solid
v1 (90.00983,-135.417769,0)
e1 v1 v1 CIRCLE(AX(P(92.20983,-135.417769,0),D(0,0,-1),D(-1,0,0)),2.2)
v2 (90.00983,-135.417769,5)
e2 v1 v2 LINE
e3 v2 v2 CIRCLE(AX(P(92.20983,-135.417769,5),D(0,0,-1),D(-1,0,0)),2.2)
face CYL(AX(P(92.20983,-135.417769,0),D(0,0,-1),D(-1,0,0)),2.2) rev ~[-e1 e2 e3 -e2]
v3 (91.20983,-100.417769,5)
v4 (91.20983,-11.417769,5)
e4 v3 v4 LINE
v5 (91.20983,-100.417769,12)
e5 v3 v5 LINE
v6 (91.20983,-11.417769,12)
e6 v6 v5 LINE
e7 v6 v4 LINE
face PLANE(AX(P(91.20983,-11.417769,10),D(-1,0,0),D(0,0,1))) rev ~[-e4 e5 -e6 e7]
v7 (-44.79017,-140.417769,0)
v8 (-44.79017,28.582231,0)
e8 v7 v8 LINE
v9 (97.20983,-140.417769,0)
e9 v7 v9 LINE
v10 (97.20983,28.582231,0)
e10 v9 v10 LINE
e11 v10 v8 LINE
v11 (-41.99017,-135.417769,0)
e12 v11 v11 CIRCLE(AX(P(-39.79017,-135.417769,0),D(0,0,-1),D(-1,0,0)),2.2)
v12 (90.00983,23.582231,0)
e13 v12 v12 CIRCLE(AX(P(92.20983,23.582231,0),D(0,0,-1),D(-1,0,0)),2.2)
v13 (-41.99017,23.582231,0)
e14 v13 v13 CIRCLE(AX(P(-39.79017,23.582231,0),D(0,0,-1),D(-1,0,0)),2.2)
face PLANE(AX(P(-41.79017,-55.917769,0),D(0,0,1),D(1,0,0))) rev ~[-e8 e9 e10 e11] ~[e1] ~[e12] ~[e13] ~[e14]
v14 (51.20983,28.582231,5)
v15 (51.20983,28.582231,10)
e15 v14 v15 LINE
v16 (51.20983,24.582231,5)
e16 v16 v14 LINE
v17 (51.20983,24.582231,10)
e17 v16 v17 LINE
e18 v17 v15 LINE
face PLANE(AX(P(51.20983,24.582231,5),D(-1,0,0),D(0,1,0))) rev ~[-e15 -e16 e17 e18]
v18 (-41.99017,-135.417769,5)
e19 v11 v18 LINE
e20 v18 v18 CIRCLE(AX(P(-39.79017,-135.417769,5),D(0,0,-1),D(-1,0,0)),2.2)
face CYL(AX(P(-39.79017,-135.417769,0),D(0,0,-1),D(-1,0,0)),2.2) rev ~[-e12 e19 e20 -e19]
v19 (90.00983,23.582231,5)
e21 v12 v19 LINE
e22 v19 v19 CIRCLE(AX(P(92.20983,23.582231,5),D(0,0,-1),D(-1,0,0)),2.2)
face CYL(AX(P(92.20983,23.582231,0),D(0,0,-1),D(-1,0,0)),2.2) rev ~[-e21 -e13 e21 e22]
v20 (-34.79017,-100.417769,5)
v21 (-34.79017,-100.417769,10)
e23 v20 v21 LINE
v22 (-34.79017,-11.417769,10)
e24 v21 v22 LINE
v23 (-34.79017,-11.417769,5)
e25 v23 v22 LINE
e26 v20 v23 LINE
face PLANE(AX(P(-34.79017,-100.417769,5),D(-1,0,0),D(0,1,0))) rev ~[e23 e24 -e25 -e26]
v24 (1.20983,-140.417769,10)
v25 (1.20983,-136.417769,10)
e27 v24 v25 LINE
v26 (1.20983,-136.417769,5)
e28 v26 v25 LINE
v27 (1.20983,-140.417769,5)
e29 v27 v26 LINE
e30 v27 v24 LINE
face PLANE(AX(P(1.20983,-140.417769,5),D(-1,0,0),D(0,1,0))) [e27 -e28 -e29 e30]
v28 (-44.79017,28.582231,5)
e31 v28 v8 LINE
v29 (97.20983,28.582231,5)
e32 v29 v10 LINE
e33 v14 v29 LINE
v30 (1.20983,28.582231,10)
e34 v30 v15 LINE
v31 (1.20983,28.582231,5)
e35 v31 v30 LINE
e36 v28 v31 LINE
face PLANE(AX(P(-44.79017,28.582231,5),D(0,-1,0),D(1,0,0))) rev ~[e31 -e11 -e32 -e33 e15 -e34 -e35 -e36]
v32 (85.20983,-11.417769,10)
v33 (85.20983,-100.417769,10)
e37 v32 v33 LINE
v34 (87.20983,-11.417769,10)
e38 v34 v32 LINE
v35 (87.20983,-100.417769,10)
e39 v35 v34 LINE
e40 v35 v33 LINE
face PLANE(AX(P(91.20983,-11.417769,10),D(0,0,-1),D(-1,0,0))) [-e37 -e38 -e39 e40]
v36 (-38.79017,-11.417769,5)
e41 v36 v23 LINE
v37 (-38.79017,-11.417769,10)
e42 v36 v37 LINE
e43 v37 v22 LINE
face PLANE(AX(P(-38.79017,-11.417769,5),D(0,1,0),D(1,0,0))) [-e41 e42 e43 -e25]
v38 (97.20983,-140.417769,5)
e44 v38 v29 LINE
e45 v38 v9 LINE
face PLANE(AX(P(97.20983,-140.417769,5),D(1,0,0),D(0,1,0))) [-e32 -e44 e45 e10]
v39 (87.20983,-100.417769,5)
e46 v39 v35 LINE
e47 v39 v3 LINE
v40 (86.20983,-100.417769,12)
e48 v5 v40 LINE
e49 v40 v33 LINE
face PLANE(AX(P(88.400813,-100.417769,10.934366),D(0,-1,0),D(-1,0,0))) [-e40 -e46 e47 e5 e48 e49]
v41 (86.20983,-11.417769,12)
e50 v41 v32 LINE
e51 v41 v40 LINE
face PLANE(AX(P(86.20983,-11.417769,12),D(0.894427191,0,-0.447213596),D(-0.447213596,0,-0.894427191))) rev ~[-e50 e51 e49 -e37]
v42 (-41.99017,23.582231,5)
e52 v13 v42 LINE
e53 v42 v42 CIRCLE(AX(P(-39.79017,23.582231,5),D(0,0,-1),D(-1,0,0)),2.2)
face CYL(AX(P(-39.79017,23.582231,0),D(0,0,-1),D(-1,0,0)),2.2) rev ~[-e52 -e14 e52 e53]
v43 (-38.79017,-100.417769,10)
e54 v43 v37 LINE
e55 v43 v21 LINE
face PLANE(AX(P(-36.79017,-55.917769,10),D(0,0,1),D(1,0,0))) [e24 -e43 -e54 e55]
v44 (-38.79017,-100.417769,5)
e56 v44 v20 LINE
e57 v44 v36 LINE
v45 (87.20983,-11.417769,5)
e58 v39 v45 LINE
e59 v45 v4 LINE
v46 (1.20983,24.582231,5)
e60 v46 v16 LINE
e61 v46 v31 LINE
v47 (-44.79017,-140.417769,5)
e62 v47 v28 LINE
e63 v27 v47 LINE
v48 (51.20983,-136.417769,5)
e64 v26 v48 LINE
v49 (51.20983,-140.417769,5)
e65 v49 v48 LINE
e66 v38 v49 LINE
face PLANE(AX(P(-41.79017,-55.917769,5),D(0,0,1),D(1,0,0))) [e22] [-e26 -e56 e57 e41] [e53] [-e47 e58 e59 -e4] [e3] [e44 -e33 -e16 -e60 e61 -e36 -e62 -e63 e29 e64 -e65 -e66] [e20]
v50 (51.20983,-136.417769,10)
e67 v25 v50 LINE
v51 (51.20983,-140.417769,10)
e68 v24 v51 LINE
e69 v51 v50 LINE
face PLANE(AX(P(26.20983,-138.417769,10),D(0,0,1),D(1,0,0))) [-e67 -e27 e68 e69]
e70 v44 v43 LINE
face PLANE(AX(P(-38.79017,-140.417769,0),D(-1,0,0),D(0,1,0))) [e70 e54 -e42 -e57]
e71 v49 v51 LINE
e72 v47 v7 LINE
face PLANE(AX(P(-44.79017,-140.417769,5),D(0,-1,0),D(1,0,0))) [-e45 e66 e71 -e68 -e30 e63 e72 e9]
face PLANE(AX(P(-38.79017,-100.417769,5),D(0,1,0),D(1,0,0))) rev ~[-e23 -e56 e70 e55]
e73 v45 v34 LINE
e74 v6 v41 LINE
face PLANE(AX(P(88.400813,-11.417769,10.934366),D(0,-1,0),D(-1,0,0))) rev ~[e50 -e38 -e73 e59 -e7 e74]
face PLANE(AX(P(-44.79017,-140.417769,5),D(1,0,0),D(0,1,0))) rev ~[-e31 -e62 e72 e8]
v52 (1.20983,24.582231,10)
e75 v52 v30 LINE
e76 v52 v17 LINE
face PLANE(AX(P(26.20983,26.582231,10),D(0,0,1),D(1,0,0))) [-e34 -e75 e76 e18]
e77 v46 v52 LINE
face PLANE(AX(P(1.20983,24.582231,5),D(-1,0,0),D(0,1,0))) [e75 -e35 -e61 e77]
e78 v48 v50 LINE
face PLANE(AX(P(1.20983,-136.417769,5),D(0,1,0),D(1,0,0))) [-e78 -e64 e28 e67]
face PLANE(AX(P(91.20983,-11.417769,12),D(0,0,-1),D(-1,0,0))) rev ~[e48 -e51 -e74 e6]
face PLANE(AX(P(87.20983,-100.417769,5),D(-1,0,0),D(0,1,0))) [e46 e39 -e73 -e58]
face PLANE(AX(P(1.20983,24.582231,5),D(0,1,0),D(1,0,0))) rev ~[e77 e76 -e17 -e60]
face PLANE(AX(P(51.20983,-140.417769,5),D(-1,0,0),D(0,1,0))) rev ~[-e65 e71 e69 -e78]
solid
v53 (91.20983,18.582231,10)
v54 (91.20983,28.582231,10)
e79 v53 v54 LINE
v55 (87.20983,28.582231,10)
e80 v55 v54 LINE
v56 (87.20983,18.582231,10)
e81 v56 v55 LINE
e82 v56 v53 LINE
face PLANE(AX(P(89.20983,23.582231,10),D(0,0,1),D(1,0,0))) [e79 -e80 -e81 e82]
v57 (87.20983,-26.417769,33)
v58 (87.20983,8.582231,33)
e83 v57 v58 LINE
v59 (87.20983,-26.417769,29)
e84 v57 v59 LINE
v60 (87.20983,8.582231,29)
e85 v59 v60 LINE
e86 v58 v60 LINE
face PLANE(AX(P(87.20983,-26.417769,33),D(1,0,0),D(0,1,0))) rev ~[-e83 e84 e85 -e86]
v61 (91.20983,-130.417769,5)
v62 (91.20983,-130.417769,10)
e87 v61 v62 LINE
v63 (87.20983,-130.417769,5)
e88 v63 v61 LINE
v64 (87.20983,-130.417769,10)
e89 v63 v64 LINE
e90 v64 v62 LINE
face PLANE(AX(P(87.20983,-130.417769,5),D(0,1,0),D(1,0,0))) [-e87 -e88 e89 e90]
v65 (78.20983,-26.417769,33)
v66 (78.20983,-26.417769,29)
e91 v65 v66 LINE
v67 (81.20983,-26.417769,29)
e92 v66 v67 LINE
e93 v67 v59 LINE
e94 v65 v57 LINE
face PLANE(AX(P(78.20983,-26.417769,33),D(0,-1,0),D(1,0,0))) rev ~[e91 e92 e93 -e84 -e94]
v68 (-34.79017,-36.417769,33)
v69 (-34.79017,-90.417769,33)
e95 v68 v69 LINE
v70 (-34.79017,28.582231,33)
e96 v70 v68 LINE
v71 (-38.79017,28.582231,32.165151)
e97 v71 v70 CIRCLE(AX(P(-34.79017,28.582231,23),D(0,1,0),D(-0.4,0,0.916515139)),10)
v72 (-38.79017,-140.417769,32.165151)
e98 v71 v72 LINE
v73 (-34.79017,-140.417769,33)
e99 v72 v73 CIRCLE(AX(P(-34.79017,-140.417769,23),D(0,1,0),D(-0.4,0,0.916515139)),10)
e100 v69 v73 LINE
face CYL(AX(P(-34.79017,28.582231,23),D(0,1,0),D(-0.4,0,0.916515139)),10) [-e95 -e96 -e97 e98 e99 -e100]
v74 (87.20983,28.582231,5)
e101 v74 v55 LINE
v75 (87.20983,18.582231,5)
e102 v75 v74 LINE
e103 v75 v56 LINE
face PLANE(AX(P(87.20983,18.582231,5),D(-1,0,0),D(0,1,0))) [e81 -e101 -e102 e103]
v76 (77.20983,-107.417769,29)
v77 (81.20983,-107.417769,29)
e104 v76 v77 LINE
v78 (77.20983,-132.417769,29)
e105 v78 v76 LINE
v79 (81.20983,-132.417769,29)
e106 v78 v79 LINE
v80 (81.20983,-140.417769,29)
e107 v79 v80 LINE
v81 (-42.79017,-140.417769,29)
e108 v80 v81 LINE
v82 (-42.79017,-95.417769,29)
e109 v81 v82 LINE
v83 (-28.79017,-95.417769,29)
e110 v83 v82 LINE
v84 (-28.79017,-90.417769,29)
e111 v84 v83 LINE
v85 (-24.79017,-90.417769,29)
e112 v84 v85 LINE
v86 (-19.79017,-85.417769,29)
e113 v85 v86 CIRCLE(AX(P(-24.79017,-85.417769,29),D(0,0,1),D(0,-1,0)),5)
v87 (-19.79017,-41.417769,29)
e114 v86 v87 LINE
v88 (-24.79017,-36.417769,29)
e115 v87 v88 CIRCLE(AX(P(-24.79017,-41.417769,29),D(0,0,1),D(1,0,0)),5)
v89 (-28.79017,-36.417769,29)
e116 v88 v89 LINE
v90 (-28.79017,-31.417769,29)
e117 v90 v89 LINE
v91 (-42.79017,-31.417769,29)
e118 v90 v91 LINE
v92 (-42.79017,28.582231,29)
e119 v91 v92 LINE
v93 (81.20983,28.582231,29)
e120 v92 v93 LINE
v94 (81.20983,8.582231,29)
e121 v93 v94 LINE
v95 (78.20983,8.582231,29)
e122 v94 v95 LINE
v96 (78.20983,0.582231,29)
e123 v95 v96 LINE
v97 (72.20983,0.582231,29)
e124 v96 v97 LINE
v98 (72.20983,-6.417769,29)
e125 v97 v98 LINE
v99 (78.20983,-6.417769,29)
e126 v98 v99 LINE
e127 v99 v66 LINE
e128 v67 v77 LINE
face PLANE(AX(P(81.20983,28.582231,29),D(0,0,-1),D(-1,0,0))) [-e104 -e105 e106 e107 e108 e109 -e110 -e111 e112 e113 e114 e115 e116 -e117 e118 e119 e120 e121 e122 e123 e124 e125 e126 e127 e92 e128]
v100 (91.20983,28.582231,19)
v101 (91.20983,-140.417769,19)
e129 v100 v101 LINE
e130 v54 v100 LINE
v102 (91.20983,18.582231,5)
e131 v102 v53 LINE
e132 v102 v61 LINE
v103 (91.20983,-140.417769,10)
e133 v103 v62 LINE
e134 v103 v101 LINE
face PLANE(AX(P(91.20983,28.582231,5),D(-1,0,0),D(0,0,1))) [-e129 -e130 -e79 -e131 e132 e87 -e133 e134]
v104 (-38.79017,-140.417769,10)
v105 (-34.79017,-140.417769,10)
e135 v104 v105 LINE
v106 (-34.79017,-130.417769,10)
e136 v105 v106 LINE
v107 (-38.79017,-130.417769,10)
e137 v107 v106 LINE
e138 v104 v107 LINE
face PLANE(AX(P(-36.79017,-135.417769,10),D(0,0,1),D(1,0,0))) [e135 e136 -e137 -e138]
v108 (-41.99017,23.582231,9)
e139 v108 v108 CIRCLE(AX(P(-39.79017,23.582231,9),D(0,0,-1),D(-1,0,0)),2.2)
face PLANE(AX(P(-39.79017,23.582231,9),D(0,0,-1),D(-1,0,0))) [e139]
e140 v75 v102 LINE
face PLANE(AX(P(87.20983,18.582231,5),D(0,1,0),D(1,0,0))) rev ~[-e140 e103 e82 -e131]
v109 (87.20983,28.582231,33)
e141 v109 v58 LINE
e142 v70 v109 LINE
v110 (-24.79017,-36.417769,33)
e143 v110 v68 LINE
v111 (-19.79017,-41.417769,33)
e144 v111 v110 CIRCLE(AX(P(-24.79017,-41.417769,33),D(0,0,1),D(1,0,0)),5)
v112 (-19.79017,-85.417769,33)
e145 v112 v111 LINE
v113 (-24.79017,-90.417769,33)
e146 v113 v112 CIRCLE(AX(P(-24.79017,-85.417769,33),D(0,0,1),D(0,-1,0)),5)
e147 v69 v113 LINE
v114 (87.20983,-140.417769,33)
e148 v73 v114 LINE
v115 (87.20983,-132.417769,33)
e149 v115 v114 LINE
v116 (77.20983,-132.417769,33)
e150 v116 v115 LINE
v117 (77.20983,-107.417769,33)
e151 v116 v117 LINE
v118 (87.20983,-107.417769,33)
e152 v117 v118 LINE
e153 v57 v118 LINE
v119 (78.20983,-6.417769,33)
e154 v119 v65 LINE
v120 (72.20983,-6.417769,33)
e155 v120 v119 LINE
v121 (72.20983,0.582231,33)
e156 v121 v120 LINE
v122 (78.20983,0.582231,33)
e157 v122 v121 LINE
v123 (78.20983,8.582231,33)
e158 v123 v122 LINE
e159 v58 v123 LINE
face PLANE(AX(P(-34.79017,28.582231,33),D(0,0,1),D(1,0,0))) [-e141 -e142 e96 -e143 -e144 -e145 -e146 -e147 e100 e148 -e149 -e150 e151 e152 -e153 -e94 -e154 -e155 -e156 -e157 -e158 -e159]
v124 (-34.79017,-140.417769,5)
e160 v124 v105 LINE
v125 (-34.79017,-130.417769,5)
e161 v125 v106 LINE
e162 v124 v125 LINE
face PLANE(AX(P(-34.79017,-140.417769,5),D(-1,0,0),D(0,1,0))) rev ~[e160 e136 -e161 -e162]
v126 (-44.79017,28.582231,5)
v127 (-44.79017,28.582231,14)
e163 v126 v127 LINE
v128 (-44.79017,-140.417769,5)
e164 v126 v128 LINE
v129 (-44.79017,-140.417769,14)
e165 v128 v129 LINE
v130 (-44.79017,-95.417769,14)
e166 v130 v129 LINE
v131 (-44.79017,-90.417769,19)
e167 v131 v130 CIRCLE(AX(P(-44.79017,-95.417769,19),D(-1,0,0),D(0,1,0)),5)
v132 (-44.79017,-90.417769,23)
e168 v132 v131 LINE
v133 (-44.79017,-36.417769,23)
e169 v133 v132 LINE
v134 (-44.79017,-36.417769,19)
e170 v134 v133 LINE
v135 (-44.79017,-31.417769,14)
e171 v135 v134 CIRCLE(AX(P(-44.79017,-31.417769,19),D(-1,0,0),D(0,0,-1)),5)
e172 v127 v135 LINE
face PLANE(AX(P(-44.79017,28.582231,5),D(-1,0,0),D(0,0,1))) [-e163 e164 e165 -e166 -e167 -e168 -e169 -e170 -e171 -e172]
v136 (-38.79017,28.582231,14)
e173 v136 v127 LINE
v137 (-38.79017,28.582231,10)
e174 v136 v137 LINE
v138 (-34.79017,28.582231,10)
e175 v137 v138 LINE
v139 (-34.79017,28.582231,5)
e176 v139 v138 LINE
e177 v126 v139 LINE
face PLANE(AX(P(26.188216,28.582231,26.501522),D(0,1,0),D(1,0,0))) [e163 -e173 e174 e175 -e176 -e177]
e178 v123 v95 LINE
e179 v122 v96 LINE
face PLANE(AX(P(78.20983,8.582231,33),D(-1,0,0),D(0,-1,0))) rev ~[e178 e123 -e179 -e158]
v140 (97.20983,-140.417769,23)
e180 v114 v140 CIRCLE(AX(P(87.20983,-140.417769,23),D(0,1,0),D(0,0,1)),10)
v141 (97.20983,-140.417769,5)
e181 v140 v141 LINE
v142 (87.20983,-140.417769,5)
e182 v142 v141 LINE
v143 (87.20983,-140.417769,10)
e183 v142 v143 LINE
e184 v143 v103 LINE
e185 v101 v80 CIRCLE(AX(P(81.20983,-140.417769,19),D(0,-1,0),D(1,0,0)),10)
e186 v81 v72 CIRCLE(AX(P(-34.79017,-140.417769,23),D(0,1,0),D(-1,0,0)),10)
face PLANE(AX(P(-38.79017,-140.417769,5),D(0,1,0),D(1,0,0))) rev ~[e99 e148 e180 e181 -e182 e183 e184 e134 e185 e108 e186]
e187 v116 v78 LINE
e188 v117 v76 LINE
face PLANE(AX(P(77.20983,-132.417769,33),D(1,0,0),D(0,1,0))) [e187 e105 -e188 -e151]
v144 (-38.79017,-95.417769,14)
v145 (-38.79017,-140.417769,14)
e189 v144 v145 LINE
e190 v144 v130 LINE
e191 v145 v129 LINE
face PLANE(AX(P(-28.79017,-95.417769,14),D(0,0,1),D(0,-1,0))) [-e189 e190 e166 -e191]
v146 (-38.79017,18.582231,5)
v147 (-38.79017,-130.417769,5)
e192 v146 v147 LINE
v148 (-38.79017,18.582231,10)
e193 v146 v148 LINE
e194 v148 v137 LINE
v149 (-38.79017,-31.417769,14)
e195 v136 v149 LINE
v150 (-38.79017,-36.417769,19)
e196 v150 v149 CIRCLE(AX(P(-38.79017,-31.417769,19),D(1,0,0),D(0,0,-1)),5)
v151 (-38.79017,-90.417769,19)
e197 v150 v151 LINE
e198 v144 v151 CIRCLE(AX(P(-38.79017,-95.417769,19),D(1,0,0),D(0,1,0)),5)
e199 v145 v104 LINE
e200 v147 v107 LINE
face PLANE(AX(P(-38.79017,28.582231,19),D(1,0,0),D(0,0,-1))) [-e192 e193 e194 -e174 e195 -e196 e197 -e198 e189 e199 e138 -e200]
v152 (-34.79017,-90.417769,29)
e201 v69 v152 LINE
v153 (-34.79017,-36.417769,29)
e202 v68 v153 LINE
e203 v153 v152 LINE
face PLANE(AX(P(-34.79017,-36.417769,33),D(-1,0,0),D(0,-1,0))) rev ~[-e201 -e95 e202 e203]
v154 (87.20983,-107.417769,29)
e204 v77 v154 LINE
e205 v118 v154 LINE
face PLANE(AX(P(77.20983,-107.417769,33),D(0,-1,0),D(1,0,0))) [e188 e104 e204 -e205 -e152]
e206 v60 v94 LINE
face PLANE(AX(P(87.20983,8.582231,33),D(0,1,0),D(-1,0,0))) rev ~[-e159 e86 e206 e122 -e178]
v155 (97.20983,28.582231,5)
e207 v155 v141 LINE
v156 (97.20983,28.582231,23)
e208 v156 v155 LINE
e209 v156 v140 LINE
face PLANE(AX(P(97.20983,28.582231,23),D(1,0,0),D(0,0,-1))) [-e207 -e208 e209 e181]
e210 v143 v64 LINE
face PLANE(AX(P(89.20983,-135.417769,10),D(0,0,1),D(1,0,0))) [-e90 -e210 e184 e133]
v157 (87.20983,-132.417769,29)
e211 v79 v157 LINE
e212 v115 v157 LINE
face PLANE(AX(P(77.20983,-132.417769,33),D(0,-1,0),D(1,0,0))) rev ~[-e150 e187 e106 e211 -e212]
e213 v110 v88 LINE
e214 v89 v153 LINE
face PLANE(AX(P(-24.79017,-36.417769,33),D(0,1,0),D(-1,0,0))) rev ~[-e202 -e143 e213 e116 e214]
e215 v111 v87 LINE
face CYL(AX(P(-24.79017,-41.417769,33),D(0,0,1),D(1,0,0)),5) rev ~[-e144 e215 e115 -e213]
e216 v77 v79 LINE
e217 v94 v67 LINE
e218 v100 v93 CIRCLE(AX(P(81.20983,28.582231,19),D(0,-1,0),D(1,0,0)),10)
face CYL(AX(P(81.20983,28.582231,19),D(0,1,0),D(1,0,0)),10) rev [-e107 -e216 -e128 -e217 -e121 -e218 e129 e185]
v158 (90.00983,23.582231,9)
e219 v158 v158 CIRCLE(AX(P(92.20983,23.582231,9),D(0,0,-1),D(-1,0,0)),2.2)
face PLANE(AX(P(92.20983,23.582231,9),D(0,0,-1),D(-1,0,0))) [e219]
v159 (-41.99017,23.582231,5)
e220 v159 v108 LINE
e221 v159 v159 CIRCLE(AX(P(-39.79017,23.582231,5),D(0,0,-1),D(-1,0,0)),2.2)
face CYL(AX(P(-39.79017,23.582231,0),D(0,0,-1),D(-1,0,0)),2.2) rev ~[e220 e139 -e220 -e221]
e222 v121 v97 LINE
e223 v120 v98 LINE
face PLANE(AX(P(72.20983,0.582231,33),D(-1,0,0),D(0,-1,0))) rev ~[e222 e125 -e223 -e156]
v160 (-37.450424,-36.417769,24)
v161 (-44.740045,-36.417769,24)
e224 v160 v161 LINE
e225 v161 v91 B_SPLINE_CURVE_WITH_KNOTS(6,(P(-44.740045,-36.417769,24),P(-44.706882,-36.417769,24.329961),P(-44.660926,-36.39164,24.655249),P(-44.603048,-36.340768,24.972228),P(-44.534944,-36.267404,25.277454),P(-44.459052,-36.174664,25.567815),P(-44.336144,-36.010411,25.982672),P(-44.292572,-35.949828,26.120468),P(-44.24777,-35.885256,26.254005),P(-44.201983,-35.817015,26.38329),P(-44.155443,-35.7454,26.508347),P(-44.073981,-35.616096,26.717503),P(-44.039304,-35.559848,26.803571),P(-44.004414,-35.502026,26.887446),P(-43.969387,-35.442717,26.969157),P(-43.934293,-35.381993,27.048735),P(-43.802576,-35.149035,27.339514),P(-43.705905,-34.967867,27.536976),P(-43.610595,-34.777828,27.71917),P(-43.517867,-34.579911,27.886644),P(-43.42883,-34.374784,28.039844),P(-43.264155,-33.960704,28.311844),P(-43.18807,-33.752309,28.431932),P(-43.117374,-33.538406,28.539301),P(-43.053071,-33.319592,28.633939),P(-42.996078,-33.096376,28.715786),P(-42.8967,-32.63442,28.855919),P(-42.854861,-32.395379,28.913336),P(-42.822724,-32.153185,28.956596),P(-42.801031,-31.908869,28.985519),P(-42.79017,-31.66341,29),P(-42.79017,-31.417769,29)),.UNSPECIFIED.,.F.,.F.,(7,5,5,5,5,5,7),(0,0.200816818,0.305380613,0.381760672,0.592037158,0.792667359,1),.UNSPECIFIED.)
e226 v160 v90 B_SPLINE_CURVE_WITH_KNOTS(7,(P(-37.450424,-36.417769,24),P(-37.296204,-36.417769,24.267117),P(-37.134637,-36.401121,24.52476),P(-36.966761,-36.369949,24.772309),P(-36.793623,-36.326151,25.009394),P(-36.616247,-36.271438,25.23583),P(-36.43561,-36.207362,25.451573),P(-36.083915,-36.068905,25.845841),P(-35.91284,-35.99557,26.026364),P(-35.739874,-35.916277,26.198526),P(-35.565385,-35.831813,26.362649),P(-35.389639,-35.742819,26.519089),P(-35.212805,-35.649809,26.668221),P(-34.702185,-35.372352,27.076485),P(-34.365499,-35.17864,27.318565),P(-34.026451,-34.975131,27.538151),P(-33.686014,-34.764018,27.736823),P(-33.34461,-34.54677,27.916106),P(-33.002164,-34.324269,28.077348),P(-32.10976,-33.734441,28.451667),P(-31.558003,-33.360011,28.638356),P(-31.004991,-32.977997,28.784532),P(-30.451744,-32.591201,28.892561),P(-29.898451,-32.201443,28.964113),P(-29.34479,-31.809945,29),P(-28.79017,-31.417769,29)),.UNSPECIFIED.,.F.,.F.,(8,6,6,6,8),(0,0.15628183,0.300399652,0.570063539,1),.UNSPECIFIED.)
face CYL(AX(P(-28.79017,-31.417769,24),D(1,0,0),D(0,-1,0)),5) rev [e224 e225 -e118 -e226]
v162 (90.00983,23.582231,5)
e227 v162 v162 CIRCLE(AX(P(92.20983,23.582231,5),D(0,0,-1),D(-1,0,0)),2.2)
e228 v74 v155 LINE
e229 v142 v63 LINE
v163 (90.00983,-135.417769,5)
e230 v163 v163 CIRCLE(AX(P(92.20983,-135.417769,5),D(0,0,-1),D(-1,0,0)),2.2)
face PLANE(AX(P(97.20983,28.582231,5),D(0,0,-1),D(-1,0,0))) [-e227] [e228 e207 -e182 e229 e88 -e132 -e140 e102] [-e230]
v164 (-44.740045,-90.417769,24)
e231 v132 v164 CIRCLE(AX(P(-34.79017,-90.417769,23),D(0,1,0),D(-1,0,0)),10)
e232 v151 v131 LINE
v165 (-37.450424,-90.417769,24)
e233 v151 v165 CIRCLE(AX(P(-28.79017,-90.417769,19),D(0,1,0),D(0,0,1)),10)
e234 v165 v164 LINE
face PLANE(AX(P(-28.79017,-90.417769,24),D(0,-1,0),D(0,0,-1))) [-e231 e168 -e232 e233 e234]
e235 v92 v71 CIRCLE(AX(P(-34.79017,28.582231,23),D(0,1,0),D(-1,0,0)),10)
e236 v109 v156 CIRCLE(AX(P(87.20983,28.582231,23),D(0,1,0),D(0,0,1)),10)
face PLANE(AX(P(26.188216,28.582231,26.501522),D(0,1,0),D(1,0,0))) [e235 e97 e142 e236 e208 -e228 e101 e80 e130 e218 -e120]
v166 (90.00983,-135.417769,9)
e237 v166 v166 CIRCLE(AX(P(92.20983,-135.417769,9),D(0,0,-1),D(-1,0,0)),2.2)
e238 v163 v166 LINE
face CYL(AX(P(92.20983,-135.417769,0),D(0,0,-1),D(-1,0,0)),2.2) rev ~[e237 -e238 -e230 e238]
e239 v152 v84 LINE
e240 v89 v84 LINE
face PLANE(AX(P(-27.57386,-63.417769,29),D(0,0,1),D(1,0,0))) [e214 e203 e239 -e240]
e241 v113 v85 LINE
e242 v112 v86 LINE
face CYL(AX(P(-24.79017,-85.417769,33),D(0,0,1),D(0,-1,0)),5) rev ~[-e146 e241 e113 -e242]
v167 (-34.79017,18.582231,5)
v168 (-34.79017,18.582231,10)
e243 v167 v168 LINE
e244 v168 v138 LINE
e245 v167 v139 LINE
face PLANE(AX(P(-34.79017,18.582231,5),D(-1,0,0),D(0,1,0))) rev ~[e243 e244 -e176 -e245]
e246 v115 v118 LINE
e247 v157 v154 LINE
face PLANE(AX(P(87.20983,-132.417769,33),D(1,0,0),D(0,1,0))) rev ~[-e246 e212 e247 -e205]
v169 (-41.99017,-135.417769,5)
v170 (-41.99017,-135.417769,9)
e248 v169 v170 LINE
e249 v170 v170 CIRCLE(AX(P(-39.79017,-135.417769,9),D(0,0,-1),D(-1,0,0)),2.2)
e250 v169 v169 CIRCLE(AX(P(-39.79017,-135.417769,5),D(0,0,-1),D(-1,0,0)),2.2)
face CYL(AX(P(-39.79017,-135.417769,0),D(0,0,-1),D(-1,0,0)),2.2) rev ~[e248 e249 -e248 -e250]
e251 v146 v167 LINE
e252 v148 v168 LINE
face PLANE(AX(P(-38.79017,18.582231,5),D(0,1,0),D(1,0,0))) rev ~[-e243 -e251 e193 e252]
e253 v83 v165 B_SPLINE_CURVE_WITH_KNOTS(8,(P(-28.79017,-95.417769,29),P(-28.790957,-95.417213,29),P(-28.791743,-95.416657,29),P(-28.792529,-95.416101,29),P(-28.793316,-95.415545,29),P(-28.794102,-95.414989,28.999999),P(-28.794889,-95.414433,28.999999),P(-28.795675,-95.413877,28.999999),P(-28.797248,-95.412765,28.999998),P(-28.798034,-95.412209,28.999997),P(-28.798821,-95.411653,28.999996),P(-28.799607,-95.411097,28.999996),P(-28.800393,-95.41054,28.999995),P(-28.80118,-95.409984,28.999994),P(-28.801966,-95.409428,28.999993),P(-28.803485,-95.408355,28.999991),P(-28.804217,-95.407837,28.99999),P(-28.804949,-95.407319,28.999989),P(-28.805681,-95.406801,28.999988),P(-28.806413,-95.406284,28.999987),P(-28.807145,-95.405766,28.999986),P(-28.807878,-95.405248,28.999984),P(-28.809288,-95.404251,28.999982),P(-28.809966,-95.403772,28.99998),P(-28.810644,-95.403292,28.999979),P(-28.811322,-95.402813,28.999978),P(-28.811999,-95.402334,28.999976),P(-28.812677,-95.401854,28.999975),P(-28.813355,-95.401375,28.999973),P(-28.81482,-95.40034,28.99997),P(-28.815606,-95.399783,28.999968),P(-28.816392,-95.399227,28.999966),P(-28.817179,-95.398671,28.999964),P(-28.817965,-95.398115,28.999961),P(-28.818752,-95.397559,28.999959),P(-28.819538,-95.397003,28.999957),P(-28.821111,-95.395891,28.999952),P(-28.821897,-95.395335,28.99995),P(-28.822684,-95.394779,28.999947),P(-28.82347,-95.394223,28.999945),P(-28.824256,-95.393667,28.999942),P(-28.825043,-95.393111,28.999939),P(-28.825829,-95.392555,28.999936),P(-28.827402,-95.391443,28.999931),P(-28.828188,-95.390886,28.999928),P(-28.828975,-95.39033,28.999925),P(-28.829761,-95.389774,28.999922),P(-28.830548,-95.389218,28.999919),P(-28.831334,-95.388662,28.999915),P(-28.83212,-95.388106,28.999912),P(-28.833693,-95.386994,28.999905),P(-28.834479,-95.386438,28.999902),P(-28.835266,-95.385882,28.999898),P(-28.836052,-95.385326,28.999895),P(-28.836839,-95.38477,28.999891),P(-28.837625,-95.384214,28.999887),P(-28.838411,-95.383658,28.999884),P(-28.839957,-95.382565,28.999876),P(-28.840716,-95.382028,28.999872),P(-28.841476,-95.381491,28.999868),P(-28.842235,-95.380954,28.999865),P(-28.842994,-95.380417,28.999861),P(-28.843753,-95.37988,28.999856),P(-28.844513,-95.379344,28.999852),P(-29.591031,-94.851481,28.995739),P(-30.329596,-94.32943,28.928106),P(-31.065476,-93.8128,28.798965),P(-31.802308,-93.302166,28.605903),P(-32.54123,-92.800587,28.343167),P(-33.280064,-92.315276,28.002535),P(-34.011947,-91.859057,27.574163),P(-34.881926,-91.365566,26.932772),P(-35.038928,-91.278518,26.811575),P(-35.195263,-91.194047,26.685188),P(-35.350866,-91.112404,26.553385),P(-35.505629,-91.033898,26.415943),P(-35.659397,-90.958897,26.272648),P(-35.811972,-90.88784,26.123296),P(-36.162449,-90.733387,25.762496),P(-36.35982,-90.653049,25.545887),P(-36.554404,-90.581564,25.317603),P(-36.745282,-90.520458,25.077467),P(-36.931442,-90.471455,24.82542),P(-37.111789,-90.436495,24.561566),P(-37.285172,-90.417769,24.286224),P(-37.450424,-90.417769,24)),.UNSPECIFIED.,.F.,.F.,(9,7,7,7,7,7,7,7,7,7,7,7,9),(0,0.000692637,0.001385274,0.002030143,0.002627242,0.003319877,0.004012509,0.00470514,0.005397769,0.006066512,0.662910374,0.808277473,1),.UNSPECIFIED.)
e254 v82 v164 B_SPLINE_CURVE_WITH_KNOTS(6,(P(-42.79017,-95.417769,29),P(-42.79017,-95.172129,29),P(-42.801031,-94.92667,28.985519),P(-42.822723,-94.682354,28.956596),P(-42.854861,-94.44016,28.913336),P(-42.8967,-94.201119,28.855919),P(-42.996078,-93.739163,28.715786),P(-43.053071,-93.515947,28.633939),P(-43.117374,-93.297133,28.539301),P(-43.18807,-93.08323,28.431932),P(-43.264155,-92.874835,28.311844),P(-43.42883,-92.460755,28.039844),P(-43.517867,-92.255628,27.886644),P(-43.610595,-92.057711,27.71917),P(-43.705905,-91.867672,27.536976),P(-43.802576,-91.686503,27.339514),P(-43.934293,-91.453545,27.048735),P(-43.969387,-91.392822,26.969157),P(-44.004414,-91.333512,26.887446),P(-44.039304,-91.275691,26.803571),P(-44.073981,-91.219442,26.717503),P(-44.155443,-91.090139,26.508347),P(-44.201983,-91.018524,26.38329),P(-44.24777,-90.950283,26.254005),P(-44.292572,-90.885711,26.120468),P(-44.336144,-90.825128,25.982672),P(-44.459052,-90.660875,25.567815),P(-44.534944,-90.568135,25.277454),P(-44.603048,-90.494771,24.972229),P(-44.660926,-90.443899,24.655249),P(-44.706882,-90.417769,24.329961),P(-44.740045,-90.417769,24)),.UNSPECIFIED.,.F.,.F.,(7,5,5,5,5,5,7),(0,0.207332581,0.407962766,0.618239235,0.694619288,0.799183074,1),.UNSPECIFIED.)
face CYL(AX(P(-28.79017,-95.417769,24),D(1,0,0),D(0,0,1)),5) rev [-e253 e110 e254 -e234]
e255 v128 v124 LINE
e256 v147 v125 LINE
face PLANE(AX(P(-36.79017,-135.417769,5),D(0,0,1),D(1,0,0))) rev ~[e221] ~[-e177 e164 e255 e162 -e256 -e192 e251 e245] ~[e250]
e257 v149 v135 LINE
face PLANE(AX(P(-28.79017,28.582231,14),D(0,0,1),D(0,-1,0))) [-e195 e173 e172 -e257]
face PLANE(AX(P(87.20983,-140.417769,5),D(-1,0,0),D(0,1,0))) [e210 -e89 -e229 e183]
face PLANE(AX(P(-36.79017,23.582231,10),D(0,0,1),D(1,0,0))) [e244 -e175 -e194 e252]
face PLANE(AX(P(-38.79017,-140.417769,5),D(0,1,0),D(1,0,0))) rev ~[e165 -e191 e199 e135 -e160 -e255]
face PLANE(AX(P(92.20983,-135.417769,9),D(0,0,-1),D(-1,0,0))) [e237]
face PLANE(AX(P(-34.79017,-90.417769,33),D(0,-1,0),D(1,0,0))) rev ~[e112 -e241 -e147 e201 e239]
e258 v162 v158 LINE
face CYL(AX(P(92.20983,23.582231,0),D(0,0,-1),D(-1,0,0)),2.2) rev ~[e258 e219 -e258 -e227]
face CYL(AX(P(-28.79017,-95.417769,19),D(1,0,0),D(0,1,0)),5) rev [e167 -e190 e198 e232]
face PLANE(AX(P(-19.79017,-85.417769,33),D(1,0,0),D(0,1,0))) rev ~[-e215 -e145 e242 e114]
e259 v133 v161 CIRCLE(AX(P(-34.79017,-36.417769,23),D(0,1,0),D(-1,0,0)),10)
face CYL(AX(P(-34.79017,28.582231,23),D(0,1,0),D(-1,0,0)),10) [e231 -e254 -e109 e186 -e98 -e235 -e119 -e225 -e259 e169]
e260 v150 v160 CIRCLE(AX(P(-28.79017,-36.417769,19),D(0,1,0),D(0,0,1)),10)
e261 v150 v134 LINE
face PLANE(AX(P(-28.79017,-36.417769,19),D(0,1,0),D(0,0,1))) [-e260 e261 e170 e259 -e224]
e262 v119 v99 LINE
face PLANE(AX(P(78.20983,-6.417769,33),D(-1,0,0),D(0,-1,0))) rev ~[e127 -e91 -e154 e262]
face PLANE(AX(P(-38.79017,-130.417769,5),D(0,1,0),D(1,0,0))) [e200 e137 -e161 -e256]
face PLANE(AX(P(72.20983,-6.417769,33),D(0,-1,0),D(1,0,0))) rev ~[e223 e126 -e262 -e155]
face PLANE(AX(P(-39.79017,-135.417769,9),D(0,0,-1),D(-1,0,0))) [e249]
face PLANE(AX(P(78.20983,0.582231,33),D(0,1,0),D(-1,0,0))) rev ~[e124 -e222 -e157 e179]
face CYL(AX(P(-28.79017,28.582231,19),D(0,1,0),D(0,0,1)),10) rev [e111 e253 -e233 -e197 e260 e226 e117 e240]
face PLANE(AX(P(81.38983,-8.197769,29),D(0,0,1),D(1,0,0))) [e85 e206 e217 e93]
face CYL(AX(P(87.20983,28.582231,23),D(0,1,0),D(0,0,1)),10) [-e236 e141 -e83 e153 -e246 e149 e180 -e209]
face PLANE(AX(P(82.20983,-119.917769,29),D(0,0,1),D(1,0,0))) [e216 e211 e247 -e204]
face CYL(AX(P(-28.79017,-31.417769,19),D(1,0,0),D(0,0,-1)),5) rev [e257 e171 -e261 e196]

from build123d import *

# Parameters (mm, degrees)
SKETCH_2_W          = 130
SKETCH_2_H          = 169
EXTRUDE_1_DEPTH     = 5
SKETCH_3_W          = 50
SKETCH_3_H          = 4
SKETCH_3_W_2        = 4
SKETCH_3_H_2        = 89
EXTRUDE_2_DEPTH     = 5
EXTRUDE_3_DEPTH     = 89
SKETCH_5_W          = 6
SKETCH_5_H          = 169
EXTRUDE_4_DEPTH     = 5
EXTRUDE_5_DEPTH     = 169
SKETCH_7_W          = 4
SKETCH_7_H          = 10
EXTRUDE_6_DEPTH     = 5
SKETCH_8_R          = 2.2
CUT_EXTRUDE_1_DEPTH = 9
CUT_EXTRUDE_START   = -16
CUT_EXTRUDE_2_DEPTH = 16
SKETCH_10_W         = 10
SKETCH_10_H         = 25
CUT_EXTRUDE_3_DEPTH = 4


with BuildPart() as part:
    # 草图2 → 凸台-拉伸1 (new body)
    with BuildSketch(Plane.XY):
        with Locations((26.209829868, -55.917769376)):
            Rectangle(SKETCH_2_W, SKETCH_2_H)
    extrude(amount=EXTRUDE_1_DEPTH)

    # 草图3 → 凸台-拉伸2 (add)
    with BuildSketch(Plane.XY.offset(5)):
        with Locations((26.209829868, 26.582230624)):
            Rectangle(SKETCH_3_W, SKETCH_3_H)
        with Locations((-36.790170132, -55.917769376)):
            Rectangle(SKETCH_3_W_2, SKETCH_3_H_2)
        with Locations((26.209829868, -138.417769376)):
            Rectangle(SKETCH_3_W, SKETCH_3_H)
        with Locations((89.209829868, -55.917769376)):
            Rectangle(SKETCH_3_W_2, SKETCH_3_H_2)
    extrude(amount=EXTRUDE_2_DEPTH)

    # 草图4 → 凸台-拉伸3 (add)
    with BuildSketch(Plane(origin=(0, -11.417769376, 0), x_dir=(1, 0, 0), z_dir=(0, 1, 0))):
        Polygon((85.209829868, -10), (87.209829868, -10), (91.209829868, -10), (91.209829868, -12), (86.209829868, -12), align=None)
    extrude(amount=-EXTRUDE_3_DEPTH)

    # 草图5 → 凸台-拉伸4 (add)
    with BuildSketch(Plane.XY.offset(5)):
        with Locations((-41.790170132, -55.917769376)):
            Rectangle(SKETCH_5_W, SKETCH_5_H)
        with Locations((94.209829868, -55.917769376)):
            Rectangle(SKETCH_5_W, SKETCH_5_H)
    extrude(amount=-EXTRUDE_4_DEPTH)


with BuildPart() as body_2:
    # 草图6 → 凸台-拉伸5 (new body)
    with BuildSketch(Plane(origin=(0, 28.582230624, 0), x_dir=(1, 0, 0), z_dir=(0, 1, 0))):
        with BuildLine():
            Line((-38.790170132, -5), (-44.790170132, -5))
            Line((-44.790170132, -5), (-44.790170132, -23))
            ThreePointArc((-44.790170132, -23), (-43.156770398, -28.477225575), (-38.790170132, -32.16515139))
            ThreePointArc((-38.790170132, -32.16515139), (-36.833266569, -32.789063129), (-34.790170132, -33))
            Line((-34.790170132, -33), (87.209829868, -33))
            ThreePointArc((87.209829868, -33), (94.28089768, -30.071067812), (97.209829868, -23))
            Line((97.209829868, -23), (97.209829868, -5))
            Line((97.209829868, -5), (91.209829868, -5))
            Line((91.209829868, -5), (91.209829868, -19))
            ThreePointArc((91.209829868, -19), (88.28089768, -26.071067812), (81.209829868, -29))
            Line((81.209829868, -29), (-28.790170132, -29))
            ThreePointArc((-28.790170132, -29), (-35.861237944, -26.071067812), (-38.790170132, -19))
            Line((-38.790170132, -19), (-38.790170132, -5))
        make_face()
    extrude(amount=-EXTRUDE_5_DEPTH)

    # 草图7 → 凸台-拉伸6 (add)
    with BuildSketch(Plane.XY.offset(5)):
        with Locations((-36.790170132, -135.417769376)):
            Rectangle(SKETCH_7_W, SKETCH_7_H)
        with Locations((-36.790170132, 23.582230624)):
            Rectangle(SKETCH_7_W, SKETCH_7_H)
        with Locations((89.209829868, 23.582230624)):
            Rectangle(SKETCH_7_W, SKETCH_7_H)
        with Locations((89.209829868, -135.417769376)):
            Rectangle(SKETCH_7_W, SKETCH_7_H)
    extrude(amount=EXTRUDE_6_DEPTH)


with BuildPart() as cut_extrude_1_tool:
    # 草图8 → 切除-拉伸1 (new body)
    with BuildSketch(Plane(origin=(0, 0, 0), x_dir=(-1, 0, 0), z_dir=(0, 0, -1))):
        with Locations((39.790170132, -135.417769376)):
            Circle(SKETCH_8_R)
        with Locations((39.790170132, 23.582230624)):
            Circle(SKETCH_8_R)
        with Locations((-92.209829868, 23.582230624)):
            Circle(SKETCH_8_R)
        with Locations((-92.209829868, -135.417769376)):
            Circle(SKETCH_8_R)
    extrude(amount=-CUT_EXTRUDE_1_DEPTH)


with BuildPart() as part_1:
    add(part.part)

    # 切除-拉伸1: cut by cut_extrude_1_tool
    add(cut_extrude_1_tool.part, mode=Mode.SUBTRACT)


with BuildPart() as body_2_1:
    add(body_2.part)

    # 切除-拉伸1: cut by cut_extrude_1_tool
    add(cut_extrude_1_tool.part, mode=Mode.SUBTRACT)

    # 草图9 → 切除-拉伸2 (cut)
    with BuildSketch(Plane.ZY.offset(44.790170132).offset(CUT_EXTRUDE_START)):
        with BuildLine():
            Line((14, -95.417769376), (14, -140.417769376))
            Line((14, -140.417769376), (23, -140.417769376))
            Line((23, -140.417769376), (23, -90.417769376))
            Line((23, -90.417769376), (19, -90.417769376))
            ThreePointArc((19, -90.417769376), (15.464466094, -91.88223547), (14, -95.417769376))
        make_face()
        with BuildLine():
            Line((23, -90.417769376), (23, -140.417769376))
            Line((23, -140.417769376), (29, -140.417769376))
            Line((29, -140.417769376), (29, -95.417769376))
            ThreePointArc((29, -95.417769376), (27.535533906, -91.88223547), (24, -90.417769376))
            Line((24, -90.417769376), (23, -90.417769376))
        make_face()
        with BuildLine():
            Line((23, 28.582230624), (23, -36.417769376))
            Line((23, -36.417769376), (24, -36.417769376))
            ThreePointArc((24, -36.417769376), (27.535533906, -34.953303282), (29, -31.417769376))
            Line((29, -31.417769376), (29, 28.582230624))
            Line((29, 28.582230624), (23, 28.582230624))
        make_face()
        with BuildLine():
            Line((19, -36.417769376), (23, -36.417769376))
            Line((23, -36.417769376), (23, 28.582230624))
            Line((23, 28.582230624), (14, 28.582230624))
            Line((14, 28.582230624), (14, -31.417769376))
            ThreePointArc((14, -31.417769376), (15.464466094, -34.953303282), (19, -36.417769376))
        make_face()
    extrude(amount=CUT_EXTRUDE_2_DEPTH, mode=Mode.SUBTRACT)

    # 草图10 → 切除-拉伸3 (cut)
    with BuildSketch(Plane.XY.offset(33)):
        with BuildLine():
            Line((-34.790170132, -36.417769376), (-34.790170132, -90.417769376))
            Line((-34.790170132, -90.417769376), (-24.790170132, -90.417769376))
            ThreePointArc((-24.790170132, -90.417769376), (-21.254636226, -88.953303282), (-19.790170132, -85.417769376))
            Line((-19.790170132, -85.417769376), (-19.790170132, -41.417769376))
            ThreePointArc((-19.790170132, -41.417769376), (-21.254636226, -37.88223547), (-24.790170132, -36.417769376))
            Line((-24.790170132, -36.417769376), (-34.790170132, -36.417769376))
        make_face()
        Polygon((87.209829868, -26.417769376), (87.209829868, -11.417769376), (87.209829868, 8.582230624), (78.209829868, 8.582230624), (78.209829868, 0.582230624), (72.209829868, 0.582230624), (72.209829868, -6.417769376), (78.209829868, -6.417769376), (78.209829868, -26.417769376), align=None)
        with Locations((82.209829868, -119.917769376)):
            Rectangle(SKETCH_10_W, SKETCH_10_H)
    extrude(amount=-CUT_EXTRUDE_3_DEPTH, mode=Mode.SUBTRACT)


solid = Compound([part_1.part, body_2_1.part])
